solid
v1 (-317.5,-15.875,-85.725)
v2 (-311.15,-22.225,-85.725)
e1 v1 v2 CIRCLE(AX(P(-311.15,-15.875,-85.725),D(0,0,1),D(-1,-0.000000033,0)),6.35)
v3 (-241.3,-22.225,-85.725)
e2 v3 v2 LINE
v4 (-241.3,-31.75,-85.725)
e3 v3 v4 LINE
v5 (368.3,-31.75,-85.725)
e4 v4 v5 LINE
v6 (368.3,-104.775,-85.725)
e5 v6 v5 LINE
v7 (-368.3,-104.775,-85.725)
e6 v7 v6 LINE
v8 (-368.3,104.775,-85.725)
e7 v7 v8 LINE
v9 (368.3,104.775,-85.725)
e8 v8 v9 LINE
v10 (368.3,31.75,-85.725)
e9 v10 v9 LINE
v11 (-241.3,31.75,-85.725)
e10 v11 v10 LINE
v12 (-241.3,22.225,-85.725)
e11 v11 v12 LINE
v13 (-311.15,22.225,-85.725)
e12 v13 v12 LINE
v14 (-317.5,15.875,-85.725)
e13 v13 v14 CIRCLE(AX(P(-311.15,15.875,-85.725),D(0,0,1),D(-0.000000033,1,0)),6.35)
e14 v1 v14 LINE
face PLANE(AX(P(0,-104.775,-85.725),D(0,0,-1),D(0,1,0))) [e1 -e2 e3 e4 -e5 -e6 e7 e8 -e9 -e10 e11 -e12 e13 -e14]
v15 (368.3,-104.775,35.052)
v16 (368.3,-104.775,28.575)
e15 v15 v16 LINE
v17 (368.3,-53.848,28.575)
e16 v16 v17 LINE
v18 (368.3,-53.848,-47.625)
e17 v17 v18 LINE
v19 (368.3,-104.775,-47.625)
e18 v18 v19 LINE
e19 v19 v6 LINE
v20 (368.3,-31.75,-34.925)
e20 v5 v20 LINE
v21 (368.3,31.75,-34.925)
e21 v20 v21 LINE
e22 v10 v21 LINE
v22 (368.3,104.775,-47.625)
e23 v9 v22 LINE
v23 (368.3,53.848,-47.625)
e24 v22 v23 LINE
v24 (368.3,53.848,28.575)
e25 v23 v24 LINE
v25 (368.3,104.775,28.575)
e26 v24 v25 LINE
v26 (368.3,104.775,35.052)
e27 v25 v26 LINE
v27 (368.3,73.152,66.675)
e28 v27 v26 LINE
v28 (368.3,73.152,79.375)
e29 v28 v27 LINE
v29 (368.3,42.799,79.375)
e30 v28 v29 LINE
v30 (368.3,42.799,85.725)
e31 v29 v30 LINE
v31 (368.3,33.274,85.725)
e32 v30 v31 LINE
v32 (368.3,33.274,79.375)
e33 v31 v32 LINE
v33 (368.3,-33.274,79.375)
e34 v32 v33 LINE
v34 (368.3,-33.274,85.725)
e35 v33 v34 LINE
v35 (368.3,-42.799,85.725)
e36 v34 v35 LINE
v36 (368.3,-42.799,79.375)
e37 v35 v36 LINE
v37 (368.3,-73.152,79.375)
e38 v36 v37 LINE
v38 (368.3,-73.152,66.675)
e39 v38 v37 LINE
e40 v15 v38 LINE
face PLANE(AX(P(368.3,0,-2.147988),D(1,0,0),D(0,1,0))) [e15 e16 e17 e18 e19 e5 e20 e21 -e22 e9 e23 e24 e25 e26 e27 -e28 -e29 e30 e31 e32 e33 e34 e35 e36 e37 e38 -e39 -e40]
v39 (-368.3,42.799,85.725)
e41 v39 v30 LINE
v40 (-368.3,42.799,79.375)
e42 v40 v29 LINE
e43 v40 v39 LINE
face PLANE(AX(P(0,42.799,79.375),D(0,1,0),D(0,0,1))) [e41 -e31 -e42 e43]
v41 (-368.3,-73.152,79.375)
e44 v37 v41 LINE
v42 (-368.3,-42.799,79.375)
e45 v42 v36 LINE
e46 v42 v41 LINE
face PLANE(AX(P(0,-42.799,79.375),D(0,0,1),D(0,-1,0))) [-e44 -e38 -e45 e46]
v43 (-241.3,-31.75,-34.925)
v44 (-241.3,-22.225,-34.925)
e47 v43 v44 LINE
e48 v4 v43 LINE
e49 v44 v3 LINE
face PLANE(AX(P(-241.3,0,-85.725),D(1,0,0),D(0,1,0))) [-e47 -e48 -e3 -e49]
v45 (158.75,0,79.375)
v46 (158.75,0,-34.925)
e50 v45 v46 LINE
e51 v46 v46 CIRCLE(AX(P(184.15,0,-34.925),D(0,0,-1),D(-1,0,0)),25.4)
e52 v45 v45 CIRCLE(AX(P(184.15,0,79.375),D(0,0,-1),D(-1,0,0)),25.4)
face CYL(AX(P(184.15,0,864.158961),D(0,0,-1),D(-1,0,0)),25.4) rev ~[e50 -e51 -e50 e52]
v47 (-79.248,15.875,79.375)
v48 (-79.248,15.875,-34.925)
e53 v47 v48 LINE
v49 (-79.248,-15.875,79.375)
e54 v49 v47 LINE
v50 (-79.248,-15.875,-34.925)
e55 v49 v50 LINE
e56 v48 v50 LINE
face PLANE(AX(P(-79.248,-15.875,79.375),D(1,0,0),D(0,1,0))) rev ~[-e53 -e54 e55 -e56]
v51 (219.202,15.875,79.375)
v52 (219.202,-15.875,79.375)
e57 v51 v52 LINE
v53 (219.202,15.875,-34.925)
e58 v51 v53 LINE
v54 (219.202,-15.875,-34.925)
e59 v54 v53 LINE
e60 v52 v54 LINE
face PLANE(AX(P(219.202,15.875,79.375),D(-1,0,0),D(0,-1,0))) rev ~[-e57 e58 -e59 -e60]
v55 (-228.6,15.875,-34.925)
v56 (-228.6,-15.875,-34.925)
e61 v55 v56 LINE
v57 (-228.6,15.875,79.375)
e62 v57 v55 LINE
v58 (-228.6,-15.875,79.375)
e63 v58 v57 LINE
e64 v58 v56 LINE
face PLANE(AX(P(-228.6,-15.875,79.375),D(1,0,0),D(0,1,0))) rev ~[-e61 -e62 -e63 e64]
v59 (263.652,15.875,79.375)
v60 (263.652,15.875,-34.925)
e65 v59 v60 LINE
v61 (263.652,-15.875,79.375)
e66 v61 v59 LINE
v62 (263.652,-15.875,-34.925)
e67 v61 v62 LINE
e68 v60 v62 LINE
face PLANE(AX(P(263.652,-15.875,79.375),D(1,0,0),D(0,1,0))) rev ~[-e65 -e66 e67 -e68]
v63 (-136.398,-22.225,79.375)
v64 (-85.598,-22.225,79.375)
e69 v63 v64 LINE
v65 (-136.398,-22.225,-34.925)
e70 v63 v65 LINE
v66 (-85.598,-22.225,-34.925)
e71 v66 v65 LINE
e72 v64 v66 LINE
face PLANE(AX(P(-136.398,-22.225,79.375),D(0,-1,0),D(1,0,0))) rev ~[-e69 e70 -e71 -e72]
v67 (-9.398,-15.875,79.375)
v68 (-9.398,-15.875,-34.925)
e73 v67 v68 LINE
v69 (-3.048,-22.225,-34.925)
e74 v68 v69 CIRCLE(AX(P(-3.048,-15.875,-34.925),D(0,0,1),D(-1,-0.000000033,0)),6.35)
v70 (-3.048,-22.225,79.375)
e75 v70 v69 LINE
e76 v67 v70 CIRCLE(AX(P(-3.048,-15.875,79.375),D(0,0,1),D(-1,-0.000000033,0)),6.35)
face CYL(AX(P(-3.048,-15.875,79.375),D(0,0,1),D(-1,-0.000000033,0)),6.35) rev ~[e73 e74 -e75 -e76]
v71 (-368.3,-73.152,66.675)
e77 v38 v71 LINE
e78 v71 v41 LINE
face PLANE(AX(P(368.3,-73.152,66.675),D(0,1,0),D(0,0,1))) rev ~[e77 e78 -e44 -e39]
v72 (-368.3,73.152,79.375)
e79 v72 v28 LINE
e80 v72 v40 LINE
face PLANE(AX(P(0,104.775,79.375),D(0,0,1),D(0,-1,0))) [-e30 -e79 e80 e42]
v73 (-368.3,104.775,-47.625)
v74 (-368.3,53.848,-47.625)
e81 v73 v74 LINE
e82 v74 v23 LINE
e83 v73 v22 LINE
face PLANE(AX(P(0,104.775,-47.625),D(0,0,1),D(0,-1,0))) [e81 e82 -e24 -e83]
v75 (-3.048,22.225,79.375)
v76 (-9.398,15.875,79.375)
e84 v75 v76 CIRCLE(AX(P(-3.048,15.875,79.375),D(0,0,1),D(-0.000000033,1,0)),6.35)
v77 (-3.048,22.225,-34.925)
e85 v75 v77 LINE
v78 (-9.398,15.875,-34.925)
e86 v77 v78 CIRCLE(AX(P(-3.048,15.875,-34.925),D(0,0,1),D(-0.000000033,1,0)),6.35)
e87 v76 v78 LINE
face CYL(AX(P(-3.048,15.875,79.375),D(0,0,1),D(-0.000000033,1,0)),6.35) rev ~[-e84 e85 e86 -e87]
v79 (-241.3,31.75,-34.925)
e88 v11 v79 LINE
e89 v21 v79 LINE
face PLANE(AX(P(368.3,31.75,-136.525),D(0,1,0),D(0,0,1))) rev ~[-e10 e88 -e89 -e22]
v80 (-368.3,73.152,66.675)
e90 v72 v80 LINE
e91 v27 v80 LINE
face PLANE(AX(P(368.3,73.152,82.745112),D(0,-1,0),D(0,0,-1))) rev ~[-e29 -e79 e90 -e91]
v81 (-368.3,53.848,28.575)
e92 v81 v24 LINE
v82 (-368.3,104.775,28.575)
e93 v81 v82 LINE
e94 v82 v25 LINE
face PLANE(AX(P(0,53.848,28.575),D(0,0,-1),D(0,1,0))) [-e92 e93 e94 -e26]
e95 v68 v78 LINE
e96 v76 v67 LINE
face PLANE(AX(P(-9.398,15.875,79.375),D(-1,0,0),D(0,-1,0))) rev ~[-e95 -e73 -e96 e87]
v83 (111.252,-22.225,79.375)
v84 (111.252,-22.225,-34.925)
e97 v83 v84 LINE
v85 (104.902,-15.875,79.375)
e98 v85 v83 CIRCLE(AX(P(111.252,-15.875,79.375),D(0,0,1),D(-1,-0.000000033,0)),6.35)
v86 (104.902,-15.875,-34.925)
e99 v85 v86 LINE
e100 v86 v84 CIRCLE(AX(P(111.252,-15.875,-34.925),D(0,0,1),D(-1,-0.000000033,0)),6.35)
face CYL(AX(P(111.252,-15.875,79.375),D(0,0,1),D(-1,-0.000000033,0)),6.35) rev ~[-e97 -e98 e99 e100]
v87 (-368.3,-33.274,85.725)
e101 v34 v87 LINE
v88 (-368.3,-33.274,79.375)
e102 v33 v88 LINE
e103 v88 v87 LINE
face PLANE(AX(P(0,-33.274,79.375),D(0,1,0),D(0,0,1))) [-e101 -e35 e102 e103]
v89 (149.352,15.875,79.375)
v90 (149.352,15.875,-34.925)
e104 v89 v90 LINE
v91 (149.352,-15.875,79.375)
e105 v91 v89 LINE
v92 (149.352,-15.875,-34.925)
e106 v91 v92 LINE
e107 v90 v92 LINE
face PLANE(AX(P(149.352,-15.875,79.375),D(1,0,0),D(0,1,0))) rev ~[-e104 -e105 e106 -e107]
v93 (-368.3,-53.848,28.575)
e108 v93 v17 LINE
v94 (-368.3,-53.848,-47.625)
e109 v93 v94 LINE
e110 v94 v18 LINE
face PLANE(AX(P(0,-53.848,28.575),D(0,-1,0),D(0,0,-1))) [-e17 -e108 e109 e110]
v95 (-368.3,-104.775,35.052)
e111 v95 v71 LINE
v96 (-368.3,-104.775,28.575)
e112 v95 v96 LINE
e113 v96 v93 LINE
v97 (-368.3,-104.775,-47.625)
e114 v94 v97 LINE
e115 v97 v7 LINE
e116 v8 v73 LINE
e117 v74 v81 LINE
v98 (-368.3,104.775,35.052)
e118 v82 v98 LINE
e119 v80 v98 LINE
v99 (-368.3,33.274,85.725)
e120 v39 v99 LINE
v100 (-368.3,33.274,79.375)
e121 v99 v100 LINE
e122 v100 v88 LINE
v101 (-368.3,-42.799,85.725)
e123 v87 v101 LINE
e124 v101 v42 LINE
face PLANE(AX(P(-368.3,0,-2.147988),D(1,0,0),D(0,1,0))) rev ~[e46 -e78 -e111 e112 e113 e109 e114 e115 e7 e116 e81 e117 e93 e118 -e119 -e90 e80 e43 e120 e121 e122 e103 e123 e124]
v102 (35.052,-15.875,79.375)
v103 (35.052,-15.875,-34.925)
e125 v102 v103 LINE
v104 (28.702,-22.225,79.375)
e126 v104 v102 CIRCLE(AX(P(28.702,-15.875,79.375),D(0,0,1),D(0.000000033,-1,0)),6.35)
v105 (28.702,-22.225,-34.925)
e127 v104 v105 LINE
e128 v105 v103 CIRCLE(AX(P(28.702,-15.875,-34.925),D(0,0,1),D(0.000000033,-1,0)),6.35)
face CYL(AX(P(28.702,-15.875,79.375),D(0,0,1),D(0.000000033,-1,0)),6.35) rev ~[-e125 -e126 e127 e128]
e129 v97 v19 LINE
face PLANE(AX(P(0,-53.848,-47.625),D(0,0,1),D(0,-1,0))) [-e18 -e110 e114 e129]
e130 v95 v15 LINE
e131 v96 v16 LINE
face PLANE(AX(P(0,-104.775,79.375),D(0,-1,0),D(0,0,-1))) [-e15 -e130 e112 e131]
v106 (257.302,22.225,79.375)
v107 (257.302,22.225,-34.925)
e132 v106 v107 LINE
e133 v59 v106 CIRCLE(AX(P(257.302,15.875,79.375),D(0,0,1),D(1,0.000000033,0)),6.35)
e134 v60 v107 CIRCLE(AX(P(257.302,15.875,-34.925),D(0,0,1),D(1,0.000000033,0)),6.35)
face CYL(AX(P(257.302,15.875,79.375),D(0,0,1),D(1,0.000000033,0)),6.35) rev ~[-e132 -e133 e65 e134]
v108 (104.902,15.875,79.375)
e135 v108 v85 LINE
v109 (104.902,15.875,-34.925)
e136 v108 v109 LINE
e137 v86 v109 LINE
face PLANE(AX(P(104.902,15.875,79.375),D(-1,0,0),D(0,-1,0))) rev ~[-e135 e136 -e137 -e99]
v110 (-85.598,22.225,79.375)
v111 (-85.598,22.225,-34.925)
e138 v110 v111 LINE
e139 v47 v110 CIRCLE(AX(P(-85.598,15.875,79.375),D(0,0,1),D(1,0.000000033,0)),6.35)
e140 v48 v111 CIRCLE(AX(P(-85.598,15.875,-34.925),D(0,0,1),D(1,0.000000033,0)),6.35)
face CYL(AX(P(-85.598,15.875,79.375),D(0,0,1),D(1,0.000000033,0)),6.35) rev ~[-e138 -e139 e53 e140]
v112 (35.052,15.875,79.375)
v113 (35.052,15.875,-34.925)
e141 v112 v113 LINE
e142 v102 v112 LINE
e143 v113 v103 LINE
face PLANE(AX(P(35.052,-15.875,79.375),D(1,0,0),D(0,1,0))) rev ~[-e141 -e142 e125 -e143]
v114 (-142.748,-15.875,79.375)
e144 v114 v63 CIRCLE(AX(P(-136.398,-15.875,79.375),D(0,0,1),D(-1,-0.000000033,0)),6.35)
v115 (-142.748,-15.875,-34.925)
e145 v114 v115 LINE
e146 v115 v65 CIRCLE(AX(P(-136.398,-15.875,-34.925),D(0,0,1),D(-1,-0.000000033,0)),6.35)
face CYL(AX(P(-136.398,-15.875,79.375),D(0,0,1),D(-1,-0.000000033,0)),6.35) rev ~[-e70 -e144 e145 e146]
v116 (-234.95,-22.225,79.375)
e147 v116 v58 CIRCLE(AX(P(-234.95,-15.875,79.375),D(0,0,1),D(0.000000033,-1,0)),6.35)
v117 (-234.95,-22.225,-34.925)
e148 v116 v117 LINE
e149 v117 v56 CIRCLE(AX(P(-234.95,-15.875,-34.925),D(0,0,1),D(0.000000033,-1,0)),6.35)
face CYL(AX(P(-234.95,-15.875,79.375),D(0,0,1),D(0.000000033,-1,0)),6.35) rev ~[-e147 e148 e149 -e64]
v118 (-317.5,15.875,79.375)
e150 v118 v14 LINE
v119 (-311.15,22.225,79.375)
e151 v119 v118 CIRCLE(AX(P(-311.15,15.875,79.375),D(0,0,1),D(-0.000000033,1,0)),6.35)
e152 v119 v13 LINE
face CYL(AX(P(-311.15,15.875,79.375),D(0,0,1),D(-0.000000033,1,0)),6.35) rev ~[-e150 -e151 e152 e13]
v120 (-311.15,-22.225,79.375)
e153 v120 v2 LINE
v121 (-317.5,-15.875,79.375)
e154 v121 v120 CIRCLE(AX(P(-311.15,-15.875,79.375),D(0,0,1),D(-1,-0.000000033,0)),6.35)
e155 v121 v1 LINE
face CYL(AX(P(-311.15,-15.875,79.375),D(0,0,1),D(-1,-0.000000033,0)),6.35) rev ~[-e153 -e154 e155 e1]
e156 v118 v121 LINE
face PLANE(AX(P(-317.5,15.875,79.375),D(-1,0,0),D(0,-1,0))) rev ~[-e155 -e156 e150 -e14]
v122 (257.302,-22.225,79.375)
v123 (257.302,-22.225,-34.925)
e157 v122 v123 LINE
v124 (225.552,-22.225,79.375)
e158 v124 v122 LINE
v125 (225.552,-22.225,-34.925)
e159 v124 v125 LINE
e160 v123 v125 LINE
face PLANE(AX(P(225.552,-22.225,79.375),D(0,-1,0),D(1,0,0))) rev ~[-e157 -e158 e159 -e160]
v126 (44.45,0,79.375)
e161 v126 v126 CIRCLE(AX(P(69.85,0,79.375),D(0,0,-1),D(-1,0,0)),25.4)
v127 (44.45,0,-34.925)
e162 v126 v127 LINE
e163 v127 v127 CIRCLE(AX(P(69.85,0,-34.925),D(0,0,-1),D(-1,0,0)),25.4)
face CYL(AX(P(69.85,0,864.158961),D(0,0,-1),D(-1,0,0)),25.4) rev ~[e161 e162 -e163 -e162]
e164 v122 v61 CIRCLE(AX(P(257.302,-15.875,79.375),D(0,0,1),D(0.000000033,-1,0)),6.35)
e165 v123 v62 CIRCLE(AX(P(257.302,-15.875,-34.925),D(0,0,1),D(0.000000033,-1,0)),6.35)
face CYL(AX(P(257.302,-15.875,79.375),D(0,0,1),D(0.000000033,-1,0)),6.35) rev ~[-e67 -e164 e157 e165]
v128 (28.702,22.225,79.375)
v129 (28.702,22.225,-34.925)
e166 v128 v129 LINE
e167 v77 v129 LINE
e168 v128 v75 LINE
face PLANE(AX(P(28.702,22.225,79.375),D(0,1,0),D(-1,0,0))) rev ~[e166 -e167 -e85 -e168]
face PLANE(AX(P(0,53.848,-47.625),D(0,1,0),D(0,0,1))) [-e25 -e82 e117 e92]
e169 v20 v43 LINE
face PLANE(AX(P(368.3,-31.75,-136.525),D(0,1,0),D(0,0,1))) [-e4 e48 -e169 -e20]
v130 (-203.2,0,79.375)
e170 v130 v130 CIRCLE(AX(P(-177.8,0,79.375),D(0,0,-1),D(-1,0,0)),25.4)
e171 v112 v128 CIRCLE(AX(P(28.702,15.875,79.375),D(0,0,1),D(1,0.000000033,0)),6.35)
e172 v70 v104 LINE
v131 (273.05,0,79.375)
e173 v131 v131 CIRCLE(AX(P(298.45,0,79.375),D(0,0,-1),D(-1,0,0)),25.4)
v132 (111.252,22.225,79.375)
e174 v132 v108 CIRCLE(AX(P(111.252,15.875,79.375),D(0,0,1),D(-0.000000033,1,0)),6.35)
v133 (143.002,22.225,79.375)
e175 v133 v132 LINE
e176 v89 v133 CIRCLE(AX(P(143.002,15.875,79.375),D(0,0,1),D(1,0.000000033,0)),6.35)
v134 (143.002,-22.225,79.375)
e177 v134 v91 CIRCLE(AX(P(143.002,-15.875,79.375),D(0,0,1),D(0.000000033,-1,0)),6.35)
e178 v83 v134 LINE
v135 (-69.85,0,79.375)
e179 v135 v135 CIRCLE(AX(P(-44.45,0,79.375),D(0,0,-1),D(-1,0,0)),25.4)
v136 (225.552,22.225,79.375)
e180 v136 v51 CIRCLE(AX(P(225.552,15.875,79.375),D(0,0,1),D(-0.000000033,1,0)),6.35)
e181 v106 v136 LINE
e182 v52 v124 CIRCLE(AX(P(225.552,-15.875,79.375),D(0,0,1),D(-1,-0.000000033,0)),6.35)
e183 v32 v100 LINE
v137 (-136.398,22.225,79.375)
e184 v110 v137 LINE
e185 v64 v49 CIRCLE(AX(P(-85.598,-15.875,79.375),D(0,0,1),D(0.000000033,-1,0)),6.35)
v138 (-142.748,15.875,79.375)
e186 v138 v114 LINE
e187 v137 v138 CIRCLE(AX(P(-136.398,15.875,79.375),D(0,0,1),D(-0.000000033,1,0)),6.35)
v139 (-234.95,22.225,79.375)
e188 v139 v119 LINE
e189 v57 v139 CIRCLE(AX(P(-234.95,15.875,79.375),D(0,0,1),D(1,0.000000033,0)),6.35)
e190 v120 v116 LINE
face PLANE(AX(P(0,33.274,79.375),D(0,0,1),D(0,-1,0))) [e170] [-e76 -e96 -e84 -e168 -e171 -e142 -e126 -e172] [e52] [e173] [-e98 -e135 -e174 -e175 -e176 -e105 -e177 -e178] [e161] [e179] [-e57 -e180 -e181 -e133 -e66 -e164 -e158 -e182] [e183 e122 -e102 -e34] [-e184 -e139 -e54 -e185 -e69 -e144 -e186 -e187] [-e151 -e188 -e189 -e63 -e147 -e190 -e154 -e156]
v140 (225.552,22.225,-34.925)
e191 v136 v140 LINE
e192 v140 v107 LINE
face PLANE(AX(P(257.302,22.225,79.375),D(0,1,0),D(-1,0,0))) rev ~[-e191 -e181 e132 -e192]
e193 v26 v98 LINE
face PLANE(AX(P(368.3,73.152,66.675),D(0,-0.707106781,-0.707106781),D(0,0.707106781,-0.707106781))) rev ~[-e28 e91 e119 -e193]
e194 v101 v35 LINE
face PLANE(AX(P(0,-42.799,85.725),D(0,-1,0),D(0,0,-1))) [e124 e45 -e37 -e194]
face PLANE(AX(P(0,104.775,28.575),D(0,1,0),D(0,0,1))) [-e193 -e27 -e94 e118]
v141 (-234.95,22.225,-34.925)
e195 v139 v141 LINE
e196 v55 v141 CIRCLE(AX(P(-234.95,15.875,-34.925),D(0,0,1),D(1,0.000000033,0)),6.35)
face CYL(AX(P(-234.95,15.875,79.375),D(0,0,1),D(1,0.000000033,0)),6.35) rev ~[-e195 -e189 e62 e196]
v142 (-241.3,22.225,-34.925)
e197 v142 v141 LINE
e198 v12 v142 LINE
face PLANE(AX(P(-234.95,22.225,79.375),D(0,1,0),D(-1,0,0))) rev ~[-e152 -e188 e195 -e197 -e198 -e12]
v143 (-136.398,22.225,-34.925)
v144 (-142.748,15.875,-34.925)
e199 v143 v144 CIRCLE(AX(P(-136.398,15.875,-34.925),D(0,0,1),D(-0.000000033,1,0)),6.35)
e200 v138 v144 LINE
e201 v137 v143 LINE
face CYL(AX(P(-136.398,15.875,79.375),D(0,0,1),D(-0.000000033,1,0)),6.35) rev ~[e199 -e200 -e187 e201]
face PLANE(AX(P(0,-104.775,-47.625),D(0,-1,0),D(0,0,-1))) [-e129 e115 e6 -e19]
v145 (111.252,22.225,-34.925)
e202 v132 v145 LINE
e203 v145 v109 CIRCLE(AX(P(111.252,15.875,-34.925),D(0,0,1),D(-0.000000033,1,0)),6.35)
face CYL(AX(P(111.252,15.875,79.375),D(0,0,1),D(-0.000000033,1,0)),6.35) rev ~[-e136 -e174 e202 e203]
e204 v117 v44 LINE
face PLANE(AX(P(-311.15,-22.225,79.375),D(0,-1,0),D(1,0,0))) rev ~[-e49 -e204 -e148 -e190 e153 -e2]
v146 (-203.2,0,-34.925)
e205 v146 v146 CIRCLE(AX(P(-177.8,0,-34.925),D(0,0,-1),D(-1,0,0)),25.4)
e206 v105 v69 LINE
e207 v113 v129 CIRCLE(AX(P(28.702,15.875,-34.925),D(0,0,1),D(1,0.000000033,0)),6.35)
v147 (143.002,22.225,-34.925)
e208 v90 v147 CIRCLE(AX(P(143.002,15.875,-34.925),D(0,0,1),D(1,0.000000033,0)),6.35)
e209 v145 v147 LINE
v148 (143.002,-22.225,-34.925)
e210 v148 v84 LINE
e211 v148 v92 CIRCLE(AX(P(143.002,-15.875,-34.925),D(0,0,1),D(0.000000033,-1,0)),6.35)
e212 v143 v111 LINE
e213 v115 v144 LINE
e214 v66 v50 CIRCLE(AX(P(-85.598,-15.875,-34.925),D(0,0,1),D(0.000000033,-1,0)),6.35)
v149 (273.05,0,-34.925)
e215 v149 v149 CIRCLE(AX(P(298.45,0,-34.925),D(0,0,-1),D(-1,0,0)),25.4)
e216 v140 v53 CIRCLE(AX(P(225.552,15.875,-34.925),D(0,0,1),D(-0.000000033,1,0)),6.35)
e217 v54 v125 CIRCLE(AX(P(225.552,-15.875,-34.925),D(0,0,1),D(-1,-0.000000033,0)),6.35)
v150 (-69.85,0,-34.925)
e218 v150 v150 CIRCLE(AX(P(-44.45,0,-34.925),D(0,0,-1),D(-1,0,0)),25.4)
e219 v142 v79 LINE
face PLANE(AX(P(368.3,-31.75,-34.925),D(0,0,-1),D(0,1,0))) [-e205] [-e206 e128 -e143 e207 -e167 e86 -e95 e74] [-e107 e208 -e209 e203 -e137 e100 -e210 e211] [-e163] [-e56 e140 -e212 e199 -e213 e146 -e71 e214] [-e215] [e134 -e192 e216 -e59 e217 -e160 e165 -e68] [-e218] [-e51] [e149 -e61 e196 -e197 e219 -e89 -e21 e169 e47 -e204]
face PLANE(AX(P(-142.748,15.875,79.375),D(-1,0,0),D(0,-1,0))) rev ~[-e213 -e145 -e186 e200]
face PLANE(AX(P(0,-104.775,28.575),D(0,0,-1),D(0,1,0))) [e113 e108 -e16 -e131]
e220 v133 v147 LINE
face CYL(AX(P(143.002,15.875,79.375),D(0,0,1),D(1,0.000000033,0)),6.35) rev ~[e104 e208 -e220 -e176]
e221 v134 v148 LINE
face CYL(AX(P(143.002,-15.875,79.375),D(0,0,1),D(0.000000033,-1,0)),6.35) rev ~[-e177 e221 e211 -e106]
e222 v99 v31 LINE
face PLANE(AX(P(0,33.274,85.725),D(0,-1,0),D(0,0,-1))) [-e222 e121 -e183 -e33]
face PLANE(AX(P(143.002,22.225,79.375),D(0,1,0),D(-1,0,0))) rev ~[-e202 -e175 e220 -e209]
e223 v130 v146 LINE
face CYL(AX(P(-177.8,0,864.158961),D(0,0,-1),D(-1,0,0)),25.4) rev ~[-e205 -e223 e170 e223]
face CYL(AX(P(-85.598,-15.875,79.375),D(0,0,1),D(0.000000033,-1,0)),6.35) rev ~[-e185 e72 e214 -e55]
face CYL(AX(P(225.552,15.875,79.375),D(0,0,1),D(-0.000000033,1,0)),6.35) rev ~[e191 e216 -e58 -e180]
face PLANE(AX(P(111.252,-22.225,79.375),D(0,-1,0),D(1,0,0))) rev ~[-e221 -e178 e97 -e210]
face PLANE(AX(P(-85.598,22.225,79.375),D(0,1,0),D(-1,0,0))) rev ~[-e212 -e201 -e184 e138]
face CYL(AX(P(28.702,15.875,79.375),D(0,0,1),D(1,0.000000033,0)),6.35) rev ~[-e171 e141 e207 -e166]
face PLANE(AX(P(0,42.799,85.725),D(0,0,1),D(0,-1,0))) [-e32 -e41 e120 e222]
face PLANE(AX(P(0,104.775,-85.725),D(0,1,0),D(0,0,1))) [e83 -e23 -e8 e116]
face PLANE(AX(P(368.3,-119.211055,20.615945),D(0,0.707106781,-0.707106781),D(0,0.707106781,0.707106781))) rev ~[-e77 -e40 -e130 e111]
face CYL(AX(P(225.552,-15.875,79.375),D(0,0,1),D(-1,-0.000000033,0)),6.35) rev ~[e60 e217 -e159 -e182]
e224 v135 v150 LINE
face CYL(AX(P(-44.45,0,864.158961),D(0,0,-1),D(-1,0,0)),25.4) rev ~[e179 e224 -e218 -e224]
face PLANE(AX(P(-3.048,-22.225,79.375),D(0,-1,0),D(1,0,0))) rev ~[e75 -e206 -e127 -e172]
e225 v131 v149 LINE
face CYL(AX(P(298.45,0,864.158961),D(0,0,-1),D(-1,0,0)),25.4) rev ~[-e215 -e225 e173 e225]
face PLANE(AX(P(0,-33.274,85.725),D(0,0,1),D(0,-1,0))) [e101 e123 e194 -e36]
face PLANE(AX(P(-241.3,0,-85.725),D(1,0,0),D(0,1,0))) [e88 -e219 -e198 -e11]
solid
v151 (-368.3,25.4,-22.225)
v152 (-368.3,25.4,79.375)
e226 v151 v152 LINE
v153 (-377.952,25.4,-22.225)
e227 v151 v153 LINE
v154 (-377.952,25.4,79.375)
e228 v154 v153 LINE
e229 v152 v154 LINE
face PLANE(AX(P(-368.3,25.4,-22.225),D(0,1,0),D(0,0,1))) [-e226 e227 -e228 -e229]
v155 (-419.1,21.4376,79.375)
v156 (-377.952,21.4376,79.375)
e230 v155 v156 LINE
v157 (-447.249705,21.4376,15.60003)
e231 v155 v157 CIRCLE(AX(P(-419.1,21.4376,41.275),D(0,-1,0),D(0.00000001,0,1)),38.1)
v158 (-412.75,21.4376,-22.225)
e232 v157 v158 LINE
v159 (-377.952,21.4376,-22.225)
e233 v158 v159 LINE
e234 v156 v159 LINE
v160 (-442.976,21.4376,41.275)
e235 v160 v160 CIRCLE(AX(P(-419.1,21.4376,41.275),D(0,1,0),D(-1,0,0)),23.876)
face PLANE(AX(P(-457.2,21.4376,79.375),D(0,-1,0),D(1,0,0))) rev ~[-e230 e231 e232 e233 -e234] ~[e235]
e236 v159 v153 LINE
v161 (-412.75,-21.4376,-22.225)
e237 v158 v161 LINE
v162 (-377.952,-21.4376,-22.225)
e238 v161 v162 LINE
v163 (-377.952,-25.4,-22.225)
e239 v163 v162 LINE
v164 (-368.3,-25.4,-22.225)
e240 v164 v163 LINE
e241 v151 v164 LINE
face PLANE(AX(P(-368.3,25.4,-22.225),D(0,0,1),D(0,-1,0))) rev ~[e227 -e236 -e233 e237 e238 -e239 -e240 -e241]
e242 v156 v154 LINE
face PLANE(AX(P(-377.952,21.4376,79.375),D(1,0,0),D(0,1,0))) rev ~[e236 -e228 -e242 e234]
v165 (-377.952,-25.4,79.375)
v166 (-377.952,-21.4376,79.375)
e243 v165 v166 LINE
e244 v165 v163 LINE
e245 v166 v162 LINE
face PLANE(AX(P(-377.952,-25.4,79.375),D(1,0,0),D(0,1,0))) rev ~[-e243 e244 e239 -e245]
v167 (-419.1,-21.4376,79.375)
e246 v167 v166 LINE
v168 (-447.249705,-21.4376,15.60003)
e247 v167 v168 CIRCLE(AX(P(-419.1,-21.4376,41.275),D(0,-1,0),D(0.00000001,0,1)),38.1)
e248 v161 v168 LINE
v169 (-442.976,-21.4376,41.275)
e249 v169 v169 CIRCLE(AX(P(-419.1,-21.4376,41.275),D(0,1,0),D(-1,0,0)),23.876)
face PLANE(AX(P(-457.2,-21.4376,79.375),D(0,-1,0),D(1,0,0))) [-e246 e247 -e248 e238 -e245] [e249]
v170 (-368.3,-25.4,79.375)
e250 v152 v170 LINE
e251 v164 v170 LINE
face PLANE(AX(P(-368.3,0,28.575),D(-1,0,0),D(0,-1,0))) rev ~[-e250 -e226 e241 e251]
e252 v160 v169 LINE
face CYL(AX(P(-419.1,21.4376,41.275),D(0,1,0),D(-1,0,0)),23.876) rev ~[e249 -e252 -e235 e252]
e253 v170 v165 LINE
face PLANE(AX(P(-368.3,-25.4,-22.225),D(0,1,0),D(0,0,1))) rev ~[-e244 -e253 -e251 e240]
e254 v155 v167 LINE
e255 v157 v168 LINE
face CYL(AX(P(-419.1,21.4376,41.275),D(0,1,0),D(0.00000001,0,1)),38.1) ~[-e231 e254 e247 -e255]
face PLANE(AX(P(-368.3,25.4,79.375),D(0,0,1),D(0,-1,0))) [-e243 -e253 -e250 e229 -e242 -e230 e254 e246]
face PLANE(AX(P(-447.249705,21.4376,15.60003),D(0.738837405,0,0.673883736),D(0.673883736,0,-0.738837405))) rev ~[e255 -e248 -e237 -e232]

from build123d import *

# Parameters (mm, degrees)
F1_DEPTH  = 368.3
F2_W      = 63.5
F2_H      = 101.6
F3_DEPTH  = 609.6
F5_D      = 50.8
F7_DEPTH  = 165.101
F9_DEPTH  = 736.601
F10_W     = 50.8
F10_H     = 101.6
F11_DEPTH = 88.9
F12_W     = 79.248
F12_H     = 3.9624
F13_DEPTH = 165.101
F14_R     = 23.876
F15_DEPTH = 126.2136
F17_DEPTH = 126.2136


with BuildPart() as f1:
    # F0 (on Right) → F1 (new body, symmetric)
    with BuildSketch(Plane.YZ):
        Polygon((-33.274, 85.725), (-42.799, 85.725), (-42.799, 79.375), (-104.775, 79.375), (-104.775, 28.575), (-53.848, 28.575), (-53.848, -47.625), (-104.775, -47.625), (-104.775, -85.725), (104.775, -85.725), (104.775, -47.625), (53.848, -47.625), (53.848, 28.575), (104.775, 28.575), (104.775, 79.375), (42.799, 79.375), (42.799, 85.725), (33.274, 85.725), (33.274, 79.375), (0, 79.375), (-33.274, 79.375), align=None)
    extrude(amount=F1_DEPTH, both=True)

    # F2 (on face) → F3 (cut)
    with BuildSketch(Plane.YZ.offset(368.3)):
        with Locations((0, -85.725)):
            Rectangle(F2_W, F2_H)
    extrude(amount=-F3_DEPTH, mode=Mode.SUBTRACT)

    # F5 (through all)
    with Locations(Plane.XY.offset(79.375)):
        with Locations((-177.8, 0), (-44.45, 0), (69.85, 0), (184.15, 0), (298.45, 0)):
            Hole(F5_D / 2)

    # F6 (on face) → F7 (cut, through all)
    with BuildSketch(Plane.XY.offset(79.375)):
        with BuildLine():
            Line((257.302, 22.225), (225.552, 22.225))
            ThreePointArc((225.552, 22.225), (221.061872, 20.365128), (219.202, 15.875))
            Line((219.202, 15.875), (219.202, -15.875))
            ThreePointArc((219.202, -15.875), (221.061872, -20.365128), (225.552, -22.225))
            Line((225.552, -22.225), (257.302, -22.225))
            ThreePointArc((257.302, -22.225), (261.792128, -20.365128), (263.652, -15.875))
            Line((263.652, -15.875), (263.652, 15.875))
            ThreePointArc((263.652, 15.875), (261.792128, 20.365128), (257.302, 22.225))
        make_face()
        with BuildLine():
            Line((149.352, -15.875), (149.352, 15.875))
            ThreePointArc((149.352, 15.875), (147.492128, 20.365128), (143.002, 22.225))
            Line((143.002, 22.225), (111.252, 22.225))
            ThreePointArc((111.252, 22.225), (106.761872, 20.365128), (104.902, 15.875))
            Line((104.902, 15.875), (104.902, -15.875))
            ThreePointArc((104.902, -15.875), (106.761872, -20.365128), (111.252, -22.225))
            Line((111.252, -22.225), (143.002, -22.225))
            ThreePointArc((143.002, -22.225), (147.492128, -20.365128), (149.352, -15.875))
        make_face()
        with BuildLine():
            Line((35.052, -15.875), (35.052, 15.875))
            ThreePointArc((35.052, 15.875), (33.192128, 20.365128), (28.702, 22.225))
            Line((28.702, 22.225), (-3.048, 22.225))
            ThreePointArc((-3.048, 22.225), (-7.538128, 20.365128), (-9.398, 15.875))
            Line((-9.398, 15.875), (-9.398, -15.875))
            ThreePointArc((-9.398, -15.875), (-7.538128, -20.365128), (-3.048, -22.225))
            Line((-3.048, -22.225), (28.702, -22.225))
            ThreePointArc((28.702, -22.225), (33.192128, -20.365128), (35.052, -15.875))
        make_face()
        with BuildLine():
            Line((-79.248, -15.875), (-79.248, 15.875))
            ThreePointArc((-79.248, 15.875), (-81.107872, 20.365128), (-85.598, 22.225))
            Line((-85.598, 22.225), (-136.398, 22.225))
            ThreePointArc((-136.398, 22.225), (-140.888128, 20.365128), (-142.748, 15.875))
            Line((-142.748, 15.875), (-142.748, -15.875))
            ThreePointArc((-142.748, -15.875), (-140.888128, -20.365128), (-136.398, -22.225))
            Line((-136.398, -22.225), (-85.598, -22.225))
            ThreePointArc((-85.598, -22.225), (-81.107872, -20.365128), (-79.248, -15.875))
        make_face()
        with BuildLine():
            Line((-228.6, -15.875), (-228.6, 15.875))
            ThreePointArc((-228.6, 15.875), (-230.459872, 20.365128), (-234.95, 22.225))
            Line((-234.95, 22.225), (-311.15, 22.225))
            ThreePointArc((-311.15, 22.225), (-315.640128, 20.365128), (-317.5, 15.875))
            Line((-317.5, 15.875), (-317.5, -15.875))
            ThreePointArc((-317.5, -15.875), (-315.640128, -20.365128), (-311.15, -22.225))
            Line((-311.15, -22.225), (-234.95, -22.225))
            ThreePointArc((-234.95, -22.225), (-230.459872, -20.365128), (-228.6, -15.875))
        make_face()
    extrude(amount=-F7_DEPTH, mode=Mode.SUBTRACT)

    # F8 (on face) → F9 (cut, through all)
    with BuildSketch(Plane.YZ.offset(368.3)):
        Polygon((-119.211055, 20.615945), (-73.152, 66.675), (-73.152, 82.745112), (-119.211055, 82.745112), align=None)
        Polygon((73.152, 82.745112), (73.152, 66.675), (119.211055, 20.615945), (119.211055, 82.745112), align=None)
    extrude(amount=-F9_DEPTH, mode=Mode.SUBTRACT)


with BuildPart() as f11:
    # F10 (on face) → F11 (new body)
    with BuildSketch(Plane(origin=(-368.3, 0, 0), x_dir=(0, -1, 0), z_dir=(-1, 0, 0))):
        with Locations((0, 28.575)):
            Rectangle(F10_W, F10_H)
    extrude(amount=F11_DEPTH)

    # F12 (on face) → F13 (cut, through all)
    with BuildSketch(Plane.XY.offset(79.375)):
        with Locations((-417.576, -23.4188)):
            Rectangle(F12_W, F12_H)
        with Locations((-417.576, 23.4188)):
            Rectangle(F12_W, F12_H)
    extrude(amount=-F13_DEPTH, mode=Mode.SUBTRACT)

    # F14 (on face) → F15 (cut, through all)
    with BuildSketch(Plane(origin=(0, 21.4376, 0), x_dir=(-1, 0, 0), z_dir=(0, 1, 0))):
        with Locations((419.1, 41.275)):
            Circle(F14_R)
    extrude(amount=-F15_DEPTH, mode=Mode.SUBTRACT)

    # F16 (on face) → F17 (cut, through all)
    with BuildSketch(Plane(origin=(0, 21.4376, 0), x_dir=(-1, 0, 0), z_dir=(0, 1, 0))):
        with BuildLine():
            ThreePointArc((419.1, 79.375), (453.955605, 56.659954), (447.249705, 15.60003))
            Line((447.249705, 15.60003), (412.75, -22.225))
            Line((412.75, -22.225), (412.75, -37.565868))
            Line((412.75, -37.565868), (486.452013, -37.565868))
            Line((486.452013, -37.565868), (486.452013, 99.688865))
            Line((486.452013, 99.688865), (419.1, 99.688865))
            Line((419.1, 99.688865), (419.1, 79.375))
        make_face()
    extrude(amount=-F17_DEPTH, mode=Mode.SUBTRACT)


solid = Compound([f1.part, f11.part])
